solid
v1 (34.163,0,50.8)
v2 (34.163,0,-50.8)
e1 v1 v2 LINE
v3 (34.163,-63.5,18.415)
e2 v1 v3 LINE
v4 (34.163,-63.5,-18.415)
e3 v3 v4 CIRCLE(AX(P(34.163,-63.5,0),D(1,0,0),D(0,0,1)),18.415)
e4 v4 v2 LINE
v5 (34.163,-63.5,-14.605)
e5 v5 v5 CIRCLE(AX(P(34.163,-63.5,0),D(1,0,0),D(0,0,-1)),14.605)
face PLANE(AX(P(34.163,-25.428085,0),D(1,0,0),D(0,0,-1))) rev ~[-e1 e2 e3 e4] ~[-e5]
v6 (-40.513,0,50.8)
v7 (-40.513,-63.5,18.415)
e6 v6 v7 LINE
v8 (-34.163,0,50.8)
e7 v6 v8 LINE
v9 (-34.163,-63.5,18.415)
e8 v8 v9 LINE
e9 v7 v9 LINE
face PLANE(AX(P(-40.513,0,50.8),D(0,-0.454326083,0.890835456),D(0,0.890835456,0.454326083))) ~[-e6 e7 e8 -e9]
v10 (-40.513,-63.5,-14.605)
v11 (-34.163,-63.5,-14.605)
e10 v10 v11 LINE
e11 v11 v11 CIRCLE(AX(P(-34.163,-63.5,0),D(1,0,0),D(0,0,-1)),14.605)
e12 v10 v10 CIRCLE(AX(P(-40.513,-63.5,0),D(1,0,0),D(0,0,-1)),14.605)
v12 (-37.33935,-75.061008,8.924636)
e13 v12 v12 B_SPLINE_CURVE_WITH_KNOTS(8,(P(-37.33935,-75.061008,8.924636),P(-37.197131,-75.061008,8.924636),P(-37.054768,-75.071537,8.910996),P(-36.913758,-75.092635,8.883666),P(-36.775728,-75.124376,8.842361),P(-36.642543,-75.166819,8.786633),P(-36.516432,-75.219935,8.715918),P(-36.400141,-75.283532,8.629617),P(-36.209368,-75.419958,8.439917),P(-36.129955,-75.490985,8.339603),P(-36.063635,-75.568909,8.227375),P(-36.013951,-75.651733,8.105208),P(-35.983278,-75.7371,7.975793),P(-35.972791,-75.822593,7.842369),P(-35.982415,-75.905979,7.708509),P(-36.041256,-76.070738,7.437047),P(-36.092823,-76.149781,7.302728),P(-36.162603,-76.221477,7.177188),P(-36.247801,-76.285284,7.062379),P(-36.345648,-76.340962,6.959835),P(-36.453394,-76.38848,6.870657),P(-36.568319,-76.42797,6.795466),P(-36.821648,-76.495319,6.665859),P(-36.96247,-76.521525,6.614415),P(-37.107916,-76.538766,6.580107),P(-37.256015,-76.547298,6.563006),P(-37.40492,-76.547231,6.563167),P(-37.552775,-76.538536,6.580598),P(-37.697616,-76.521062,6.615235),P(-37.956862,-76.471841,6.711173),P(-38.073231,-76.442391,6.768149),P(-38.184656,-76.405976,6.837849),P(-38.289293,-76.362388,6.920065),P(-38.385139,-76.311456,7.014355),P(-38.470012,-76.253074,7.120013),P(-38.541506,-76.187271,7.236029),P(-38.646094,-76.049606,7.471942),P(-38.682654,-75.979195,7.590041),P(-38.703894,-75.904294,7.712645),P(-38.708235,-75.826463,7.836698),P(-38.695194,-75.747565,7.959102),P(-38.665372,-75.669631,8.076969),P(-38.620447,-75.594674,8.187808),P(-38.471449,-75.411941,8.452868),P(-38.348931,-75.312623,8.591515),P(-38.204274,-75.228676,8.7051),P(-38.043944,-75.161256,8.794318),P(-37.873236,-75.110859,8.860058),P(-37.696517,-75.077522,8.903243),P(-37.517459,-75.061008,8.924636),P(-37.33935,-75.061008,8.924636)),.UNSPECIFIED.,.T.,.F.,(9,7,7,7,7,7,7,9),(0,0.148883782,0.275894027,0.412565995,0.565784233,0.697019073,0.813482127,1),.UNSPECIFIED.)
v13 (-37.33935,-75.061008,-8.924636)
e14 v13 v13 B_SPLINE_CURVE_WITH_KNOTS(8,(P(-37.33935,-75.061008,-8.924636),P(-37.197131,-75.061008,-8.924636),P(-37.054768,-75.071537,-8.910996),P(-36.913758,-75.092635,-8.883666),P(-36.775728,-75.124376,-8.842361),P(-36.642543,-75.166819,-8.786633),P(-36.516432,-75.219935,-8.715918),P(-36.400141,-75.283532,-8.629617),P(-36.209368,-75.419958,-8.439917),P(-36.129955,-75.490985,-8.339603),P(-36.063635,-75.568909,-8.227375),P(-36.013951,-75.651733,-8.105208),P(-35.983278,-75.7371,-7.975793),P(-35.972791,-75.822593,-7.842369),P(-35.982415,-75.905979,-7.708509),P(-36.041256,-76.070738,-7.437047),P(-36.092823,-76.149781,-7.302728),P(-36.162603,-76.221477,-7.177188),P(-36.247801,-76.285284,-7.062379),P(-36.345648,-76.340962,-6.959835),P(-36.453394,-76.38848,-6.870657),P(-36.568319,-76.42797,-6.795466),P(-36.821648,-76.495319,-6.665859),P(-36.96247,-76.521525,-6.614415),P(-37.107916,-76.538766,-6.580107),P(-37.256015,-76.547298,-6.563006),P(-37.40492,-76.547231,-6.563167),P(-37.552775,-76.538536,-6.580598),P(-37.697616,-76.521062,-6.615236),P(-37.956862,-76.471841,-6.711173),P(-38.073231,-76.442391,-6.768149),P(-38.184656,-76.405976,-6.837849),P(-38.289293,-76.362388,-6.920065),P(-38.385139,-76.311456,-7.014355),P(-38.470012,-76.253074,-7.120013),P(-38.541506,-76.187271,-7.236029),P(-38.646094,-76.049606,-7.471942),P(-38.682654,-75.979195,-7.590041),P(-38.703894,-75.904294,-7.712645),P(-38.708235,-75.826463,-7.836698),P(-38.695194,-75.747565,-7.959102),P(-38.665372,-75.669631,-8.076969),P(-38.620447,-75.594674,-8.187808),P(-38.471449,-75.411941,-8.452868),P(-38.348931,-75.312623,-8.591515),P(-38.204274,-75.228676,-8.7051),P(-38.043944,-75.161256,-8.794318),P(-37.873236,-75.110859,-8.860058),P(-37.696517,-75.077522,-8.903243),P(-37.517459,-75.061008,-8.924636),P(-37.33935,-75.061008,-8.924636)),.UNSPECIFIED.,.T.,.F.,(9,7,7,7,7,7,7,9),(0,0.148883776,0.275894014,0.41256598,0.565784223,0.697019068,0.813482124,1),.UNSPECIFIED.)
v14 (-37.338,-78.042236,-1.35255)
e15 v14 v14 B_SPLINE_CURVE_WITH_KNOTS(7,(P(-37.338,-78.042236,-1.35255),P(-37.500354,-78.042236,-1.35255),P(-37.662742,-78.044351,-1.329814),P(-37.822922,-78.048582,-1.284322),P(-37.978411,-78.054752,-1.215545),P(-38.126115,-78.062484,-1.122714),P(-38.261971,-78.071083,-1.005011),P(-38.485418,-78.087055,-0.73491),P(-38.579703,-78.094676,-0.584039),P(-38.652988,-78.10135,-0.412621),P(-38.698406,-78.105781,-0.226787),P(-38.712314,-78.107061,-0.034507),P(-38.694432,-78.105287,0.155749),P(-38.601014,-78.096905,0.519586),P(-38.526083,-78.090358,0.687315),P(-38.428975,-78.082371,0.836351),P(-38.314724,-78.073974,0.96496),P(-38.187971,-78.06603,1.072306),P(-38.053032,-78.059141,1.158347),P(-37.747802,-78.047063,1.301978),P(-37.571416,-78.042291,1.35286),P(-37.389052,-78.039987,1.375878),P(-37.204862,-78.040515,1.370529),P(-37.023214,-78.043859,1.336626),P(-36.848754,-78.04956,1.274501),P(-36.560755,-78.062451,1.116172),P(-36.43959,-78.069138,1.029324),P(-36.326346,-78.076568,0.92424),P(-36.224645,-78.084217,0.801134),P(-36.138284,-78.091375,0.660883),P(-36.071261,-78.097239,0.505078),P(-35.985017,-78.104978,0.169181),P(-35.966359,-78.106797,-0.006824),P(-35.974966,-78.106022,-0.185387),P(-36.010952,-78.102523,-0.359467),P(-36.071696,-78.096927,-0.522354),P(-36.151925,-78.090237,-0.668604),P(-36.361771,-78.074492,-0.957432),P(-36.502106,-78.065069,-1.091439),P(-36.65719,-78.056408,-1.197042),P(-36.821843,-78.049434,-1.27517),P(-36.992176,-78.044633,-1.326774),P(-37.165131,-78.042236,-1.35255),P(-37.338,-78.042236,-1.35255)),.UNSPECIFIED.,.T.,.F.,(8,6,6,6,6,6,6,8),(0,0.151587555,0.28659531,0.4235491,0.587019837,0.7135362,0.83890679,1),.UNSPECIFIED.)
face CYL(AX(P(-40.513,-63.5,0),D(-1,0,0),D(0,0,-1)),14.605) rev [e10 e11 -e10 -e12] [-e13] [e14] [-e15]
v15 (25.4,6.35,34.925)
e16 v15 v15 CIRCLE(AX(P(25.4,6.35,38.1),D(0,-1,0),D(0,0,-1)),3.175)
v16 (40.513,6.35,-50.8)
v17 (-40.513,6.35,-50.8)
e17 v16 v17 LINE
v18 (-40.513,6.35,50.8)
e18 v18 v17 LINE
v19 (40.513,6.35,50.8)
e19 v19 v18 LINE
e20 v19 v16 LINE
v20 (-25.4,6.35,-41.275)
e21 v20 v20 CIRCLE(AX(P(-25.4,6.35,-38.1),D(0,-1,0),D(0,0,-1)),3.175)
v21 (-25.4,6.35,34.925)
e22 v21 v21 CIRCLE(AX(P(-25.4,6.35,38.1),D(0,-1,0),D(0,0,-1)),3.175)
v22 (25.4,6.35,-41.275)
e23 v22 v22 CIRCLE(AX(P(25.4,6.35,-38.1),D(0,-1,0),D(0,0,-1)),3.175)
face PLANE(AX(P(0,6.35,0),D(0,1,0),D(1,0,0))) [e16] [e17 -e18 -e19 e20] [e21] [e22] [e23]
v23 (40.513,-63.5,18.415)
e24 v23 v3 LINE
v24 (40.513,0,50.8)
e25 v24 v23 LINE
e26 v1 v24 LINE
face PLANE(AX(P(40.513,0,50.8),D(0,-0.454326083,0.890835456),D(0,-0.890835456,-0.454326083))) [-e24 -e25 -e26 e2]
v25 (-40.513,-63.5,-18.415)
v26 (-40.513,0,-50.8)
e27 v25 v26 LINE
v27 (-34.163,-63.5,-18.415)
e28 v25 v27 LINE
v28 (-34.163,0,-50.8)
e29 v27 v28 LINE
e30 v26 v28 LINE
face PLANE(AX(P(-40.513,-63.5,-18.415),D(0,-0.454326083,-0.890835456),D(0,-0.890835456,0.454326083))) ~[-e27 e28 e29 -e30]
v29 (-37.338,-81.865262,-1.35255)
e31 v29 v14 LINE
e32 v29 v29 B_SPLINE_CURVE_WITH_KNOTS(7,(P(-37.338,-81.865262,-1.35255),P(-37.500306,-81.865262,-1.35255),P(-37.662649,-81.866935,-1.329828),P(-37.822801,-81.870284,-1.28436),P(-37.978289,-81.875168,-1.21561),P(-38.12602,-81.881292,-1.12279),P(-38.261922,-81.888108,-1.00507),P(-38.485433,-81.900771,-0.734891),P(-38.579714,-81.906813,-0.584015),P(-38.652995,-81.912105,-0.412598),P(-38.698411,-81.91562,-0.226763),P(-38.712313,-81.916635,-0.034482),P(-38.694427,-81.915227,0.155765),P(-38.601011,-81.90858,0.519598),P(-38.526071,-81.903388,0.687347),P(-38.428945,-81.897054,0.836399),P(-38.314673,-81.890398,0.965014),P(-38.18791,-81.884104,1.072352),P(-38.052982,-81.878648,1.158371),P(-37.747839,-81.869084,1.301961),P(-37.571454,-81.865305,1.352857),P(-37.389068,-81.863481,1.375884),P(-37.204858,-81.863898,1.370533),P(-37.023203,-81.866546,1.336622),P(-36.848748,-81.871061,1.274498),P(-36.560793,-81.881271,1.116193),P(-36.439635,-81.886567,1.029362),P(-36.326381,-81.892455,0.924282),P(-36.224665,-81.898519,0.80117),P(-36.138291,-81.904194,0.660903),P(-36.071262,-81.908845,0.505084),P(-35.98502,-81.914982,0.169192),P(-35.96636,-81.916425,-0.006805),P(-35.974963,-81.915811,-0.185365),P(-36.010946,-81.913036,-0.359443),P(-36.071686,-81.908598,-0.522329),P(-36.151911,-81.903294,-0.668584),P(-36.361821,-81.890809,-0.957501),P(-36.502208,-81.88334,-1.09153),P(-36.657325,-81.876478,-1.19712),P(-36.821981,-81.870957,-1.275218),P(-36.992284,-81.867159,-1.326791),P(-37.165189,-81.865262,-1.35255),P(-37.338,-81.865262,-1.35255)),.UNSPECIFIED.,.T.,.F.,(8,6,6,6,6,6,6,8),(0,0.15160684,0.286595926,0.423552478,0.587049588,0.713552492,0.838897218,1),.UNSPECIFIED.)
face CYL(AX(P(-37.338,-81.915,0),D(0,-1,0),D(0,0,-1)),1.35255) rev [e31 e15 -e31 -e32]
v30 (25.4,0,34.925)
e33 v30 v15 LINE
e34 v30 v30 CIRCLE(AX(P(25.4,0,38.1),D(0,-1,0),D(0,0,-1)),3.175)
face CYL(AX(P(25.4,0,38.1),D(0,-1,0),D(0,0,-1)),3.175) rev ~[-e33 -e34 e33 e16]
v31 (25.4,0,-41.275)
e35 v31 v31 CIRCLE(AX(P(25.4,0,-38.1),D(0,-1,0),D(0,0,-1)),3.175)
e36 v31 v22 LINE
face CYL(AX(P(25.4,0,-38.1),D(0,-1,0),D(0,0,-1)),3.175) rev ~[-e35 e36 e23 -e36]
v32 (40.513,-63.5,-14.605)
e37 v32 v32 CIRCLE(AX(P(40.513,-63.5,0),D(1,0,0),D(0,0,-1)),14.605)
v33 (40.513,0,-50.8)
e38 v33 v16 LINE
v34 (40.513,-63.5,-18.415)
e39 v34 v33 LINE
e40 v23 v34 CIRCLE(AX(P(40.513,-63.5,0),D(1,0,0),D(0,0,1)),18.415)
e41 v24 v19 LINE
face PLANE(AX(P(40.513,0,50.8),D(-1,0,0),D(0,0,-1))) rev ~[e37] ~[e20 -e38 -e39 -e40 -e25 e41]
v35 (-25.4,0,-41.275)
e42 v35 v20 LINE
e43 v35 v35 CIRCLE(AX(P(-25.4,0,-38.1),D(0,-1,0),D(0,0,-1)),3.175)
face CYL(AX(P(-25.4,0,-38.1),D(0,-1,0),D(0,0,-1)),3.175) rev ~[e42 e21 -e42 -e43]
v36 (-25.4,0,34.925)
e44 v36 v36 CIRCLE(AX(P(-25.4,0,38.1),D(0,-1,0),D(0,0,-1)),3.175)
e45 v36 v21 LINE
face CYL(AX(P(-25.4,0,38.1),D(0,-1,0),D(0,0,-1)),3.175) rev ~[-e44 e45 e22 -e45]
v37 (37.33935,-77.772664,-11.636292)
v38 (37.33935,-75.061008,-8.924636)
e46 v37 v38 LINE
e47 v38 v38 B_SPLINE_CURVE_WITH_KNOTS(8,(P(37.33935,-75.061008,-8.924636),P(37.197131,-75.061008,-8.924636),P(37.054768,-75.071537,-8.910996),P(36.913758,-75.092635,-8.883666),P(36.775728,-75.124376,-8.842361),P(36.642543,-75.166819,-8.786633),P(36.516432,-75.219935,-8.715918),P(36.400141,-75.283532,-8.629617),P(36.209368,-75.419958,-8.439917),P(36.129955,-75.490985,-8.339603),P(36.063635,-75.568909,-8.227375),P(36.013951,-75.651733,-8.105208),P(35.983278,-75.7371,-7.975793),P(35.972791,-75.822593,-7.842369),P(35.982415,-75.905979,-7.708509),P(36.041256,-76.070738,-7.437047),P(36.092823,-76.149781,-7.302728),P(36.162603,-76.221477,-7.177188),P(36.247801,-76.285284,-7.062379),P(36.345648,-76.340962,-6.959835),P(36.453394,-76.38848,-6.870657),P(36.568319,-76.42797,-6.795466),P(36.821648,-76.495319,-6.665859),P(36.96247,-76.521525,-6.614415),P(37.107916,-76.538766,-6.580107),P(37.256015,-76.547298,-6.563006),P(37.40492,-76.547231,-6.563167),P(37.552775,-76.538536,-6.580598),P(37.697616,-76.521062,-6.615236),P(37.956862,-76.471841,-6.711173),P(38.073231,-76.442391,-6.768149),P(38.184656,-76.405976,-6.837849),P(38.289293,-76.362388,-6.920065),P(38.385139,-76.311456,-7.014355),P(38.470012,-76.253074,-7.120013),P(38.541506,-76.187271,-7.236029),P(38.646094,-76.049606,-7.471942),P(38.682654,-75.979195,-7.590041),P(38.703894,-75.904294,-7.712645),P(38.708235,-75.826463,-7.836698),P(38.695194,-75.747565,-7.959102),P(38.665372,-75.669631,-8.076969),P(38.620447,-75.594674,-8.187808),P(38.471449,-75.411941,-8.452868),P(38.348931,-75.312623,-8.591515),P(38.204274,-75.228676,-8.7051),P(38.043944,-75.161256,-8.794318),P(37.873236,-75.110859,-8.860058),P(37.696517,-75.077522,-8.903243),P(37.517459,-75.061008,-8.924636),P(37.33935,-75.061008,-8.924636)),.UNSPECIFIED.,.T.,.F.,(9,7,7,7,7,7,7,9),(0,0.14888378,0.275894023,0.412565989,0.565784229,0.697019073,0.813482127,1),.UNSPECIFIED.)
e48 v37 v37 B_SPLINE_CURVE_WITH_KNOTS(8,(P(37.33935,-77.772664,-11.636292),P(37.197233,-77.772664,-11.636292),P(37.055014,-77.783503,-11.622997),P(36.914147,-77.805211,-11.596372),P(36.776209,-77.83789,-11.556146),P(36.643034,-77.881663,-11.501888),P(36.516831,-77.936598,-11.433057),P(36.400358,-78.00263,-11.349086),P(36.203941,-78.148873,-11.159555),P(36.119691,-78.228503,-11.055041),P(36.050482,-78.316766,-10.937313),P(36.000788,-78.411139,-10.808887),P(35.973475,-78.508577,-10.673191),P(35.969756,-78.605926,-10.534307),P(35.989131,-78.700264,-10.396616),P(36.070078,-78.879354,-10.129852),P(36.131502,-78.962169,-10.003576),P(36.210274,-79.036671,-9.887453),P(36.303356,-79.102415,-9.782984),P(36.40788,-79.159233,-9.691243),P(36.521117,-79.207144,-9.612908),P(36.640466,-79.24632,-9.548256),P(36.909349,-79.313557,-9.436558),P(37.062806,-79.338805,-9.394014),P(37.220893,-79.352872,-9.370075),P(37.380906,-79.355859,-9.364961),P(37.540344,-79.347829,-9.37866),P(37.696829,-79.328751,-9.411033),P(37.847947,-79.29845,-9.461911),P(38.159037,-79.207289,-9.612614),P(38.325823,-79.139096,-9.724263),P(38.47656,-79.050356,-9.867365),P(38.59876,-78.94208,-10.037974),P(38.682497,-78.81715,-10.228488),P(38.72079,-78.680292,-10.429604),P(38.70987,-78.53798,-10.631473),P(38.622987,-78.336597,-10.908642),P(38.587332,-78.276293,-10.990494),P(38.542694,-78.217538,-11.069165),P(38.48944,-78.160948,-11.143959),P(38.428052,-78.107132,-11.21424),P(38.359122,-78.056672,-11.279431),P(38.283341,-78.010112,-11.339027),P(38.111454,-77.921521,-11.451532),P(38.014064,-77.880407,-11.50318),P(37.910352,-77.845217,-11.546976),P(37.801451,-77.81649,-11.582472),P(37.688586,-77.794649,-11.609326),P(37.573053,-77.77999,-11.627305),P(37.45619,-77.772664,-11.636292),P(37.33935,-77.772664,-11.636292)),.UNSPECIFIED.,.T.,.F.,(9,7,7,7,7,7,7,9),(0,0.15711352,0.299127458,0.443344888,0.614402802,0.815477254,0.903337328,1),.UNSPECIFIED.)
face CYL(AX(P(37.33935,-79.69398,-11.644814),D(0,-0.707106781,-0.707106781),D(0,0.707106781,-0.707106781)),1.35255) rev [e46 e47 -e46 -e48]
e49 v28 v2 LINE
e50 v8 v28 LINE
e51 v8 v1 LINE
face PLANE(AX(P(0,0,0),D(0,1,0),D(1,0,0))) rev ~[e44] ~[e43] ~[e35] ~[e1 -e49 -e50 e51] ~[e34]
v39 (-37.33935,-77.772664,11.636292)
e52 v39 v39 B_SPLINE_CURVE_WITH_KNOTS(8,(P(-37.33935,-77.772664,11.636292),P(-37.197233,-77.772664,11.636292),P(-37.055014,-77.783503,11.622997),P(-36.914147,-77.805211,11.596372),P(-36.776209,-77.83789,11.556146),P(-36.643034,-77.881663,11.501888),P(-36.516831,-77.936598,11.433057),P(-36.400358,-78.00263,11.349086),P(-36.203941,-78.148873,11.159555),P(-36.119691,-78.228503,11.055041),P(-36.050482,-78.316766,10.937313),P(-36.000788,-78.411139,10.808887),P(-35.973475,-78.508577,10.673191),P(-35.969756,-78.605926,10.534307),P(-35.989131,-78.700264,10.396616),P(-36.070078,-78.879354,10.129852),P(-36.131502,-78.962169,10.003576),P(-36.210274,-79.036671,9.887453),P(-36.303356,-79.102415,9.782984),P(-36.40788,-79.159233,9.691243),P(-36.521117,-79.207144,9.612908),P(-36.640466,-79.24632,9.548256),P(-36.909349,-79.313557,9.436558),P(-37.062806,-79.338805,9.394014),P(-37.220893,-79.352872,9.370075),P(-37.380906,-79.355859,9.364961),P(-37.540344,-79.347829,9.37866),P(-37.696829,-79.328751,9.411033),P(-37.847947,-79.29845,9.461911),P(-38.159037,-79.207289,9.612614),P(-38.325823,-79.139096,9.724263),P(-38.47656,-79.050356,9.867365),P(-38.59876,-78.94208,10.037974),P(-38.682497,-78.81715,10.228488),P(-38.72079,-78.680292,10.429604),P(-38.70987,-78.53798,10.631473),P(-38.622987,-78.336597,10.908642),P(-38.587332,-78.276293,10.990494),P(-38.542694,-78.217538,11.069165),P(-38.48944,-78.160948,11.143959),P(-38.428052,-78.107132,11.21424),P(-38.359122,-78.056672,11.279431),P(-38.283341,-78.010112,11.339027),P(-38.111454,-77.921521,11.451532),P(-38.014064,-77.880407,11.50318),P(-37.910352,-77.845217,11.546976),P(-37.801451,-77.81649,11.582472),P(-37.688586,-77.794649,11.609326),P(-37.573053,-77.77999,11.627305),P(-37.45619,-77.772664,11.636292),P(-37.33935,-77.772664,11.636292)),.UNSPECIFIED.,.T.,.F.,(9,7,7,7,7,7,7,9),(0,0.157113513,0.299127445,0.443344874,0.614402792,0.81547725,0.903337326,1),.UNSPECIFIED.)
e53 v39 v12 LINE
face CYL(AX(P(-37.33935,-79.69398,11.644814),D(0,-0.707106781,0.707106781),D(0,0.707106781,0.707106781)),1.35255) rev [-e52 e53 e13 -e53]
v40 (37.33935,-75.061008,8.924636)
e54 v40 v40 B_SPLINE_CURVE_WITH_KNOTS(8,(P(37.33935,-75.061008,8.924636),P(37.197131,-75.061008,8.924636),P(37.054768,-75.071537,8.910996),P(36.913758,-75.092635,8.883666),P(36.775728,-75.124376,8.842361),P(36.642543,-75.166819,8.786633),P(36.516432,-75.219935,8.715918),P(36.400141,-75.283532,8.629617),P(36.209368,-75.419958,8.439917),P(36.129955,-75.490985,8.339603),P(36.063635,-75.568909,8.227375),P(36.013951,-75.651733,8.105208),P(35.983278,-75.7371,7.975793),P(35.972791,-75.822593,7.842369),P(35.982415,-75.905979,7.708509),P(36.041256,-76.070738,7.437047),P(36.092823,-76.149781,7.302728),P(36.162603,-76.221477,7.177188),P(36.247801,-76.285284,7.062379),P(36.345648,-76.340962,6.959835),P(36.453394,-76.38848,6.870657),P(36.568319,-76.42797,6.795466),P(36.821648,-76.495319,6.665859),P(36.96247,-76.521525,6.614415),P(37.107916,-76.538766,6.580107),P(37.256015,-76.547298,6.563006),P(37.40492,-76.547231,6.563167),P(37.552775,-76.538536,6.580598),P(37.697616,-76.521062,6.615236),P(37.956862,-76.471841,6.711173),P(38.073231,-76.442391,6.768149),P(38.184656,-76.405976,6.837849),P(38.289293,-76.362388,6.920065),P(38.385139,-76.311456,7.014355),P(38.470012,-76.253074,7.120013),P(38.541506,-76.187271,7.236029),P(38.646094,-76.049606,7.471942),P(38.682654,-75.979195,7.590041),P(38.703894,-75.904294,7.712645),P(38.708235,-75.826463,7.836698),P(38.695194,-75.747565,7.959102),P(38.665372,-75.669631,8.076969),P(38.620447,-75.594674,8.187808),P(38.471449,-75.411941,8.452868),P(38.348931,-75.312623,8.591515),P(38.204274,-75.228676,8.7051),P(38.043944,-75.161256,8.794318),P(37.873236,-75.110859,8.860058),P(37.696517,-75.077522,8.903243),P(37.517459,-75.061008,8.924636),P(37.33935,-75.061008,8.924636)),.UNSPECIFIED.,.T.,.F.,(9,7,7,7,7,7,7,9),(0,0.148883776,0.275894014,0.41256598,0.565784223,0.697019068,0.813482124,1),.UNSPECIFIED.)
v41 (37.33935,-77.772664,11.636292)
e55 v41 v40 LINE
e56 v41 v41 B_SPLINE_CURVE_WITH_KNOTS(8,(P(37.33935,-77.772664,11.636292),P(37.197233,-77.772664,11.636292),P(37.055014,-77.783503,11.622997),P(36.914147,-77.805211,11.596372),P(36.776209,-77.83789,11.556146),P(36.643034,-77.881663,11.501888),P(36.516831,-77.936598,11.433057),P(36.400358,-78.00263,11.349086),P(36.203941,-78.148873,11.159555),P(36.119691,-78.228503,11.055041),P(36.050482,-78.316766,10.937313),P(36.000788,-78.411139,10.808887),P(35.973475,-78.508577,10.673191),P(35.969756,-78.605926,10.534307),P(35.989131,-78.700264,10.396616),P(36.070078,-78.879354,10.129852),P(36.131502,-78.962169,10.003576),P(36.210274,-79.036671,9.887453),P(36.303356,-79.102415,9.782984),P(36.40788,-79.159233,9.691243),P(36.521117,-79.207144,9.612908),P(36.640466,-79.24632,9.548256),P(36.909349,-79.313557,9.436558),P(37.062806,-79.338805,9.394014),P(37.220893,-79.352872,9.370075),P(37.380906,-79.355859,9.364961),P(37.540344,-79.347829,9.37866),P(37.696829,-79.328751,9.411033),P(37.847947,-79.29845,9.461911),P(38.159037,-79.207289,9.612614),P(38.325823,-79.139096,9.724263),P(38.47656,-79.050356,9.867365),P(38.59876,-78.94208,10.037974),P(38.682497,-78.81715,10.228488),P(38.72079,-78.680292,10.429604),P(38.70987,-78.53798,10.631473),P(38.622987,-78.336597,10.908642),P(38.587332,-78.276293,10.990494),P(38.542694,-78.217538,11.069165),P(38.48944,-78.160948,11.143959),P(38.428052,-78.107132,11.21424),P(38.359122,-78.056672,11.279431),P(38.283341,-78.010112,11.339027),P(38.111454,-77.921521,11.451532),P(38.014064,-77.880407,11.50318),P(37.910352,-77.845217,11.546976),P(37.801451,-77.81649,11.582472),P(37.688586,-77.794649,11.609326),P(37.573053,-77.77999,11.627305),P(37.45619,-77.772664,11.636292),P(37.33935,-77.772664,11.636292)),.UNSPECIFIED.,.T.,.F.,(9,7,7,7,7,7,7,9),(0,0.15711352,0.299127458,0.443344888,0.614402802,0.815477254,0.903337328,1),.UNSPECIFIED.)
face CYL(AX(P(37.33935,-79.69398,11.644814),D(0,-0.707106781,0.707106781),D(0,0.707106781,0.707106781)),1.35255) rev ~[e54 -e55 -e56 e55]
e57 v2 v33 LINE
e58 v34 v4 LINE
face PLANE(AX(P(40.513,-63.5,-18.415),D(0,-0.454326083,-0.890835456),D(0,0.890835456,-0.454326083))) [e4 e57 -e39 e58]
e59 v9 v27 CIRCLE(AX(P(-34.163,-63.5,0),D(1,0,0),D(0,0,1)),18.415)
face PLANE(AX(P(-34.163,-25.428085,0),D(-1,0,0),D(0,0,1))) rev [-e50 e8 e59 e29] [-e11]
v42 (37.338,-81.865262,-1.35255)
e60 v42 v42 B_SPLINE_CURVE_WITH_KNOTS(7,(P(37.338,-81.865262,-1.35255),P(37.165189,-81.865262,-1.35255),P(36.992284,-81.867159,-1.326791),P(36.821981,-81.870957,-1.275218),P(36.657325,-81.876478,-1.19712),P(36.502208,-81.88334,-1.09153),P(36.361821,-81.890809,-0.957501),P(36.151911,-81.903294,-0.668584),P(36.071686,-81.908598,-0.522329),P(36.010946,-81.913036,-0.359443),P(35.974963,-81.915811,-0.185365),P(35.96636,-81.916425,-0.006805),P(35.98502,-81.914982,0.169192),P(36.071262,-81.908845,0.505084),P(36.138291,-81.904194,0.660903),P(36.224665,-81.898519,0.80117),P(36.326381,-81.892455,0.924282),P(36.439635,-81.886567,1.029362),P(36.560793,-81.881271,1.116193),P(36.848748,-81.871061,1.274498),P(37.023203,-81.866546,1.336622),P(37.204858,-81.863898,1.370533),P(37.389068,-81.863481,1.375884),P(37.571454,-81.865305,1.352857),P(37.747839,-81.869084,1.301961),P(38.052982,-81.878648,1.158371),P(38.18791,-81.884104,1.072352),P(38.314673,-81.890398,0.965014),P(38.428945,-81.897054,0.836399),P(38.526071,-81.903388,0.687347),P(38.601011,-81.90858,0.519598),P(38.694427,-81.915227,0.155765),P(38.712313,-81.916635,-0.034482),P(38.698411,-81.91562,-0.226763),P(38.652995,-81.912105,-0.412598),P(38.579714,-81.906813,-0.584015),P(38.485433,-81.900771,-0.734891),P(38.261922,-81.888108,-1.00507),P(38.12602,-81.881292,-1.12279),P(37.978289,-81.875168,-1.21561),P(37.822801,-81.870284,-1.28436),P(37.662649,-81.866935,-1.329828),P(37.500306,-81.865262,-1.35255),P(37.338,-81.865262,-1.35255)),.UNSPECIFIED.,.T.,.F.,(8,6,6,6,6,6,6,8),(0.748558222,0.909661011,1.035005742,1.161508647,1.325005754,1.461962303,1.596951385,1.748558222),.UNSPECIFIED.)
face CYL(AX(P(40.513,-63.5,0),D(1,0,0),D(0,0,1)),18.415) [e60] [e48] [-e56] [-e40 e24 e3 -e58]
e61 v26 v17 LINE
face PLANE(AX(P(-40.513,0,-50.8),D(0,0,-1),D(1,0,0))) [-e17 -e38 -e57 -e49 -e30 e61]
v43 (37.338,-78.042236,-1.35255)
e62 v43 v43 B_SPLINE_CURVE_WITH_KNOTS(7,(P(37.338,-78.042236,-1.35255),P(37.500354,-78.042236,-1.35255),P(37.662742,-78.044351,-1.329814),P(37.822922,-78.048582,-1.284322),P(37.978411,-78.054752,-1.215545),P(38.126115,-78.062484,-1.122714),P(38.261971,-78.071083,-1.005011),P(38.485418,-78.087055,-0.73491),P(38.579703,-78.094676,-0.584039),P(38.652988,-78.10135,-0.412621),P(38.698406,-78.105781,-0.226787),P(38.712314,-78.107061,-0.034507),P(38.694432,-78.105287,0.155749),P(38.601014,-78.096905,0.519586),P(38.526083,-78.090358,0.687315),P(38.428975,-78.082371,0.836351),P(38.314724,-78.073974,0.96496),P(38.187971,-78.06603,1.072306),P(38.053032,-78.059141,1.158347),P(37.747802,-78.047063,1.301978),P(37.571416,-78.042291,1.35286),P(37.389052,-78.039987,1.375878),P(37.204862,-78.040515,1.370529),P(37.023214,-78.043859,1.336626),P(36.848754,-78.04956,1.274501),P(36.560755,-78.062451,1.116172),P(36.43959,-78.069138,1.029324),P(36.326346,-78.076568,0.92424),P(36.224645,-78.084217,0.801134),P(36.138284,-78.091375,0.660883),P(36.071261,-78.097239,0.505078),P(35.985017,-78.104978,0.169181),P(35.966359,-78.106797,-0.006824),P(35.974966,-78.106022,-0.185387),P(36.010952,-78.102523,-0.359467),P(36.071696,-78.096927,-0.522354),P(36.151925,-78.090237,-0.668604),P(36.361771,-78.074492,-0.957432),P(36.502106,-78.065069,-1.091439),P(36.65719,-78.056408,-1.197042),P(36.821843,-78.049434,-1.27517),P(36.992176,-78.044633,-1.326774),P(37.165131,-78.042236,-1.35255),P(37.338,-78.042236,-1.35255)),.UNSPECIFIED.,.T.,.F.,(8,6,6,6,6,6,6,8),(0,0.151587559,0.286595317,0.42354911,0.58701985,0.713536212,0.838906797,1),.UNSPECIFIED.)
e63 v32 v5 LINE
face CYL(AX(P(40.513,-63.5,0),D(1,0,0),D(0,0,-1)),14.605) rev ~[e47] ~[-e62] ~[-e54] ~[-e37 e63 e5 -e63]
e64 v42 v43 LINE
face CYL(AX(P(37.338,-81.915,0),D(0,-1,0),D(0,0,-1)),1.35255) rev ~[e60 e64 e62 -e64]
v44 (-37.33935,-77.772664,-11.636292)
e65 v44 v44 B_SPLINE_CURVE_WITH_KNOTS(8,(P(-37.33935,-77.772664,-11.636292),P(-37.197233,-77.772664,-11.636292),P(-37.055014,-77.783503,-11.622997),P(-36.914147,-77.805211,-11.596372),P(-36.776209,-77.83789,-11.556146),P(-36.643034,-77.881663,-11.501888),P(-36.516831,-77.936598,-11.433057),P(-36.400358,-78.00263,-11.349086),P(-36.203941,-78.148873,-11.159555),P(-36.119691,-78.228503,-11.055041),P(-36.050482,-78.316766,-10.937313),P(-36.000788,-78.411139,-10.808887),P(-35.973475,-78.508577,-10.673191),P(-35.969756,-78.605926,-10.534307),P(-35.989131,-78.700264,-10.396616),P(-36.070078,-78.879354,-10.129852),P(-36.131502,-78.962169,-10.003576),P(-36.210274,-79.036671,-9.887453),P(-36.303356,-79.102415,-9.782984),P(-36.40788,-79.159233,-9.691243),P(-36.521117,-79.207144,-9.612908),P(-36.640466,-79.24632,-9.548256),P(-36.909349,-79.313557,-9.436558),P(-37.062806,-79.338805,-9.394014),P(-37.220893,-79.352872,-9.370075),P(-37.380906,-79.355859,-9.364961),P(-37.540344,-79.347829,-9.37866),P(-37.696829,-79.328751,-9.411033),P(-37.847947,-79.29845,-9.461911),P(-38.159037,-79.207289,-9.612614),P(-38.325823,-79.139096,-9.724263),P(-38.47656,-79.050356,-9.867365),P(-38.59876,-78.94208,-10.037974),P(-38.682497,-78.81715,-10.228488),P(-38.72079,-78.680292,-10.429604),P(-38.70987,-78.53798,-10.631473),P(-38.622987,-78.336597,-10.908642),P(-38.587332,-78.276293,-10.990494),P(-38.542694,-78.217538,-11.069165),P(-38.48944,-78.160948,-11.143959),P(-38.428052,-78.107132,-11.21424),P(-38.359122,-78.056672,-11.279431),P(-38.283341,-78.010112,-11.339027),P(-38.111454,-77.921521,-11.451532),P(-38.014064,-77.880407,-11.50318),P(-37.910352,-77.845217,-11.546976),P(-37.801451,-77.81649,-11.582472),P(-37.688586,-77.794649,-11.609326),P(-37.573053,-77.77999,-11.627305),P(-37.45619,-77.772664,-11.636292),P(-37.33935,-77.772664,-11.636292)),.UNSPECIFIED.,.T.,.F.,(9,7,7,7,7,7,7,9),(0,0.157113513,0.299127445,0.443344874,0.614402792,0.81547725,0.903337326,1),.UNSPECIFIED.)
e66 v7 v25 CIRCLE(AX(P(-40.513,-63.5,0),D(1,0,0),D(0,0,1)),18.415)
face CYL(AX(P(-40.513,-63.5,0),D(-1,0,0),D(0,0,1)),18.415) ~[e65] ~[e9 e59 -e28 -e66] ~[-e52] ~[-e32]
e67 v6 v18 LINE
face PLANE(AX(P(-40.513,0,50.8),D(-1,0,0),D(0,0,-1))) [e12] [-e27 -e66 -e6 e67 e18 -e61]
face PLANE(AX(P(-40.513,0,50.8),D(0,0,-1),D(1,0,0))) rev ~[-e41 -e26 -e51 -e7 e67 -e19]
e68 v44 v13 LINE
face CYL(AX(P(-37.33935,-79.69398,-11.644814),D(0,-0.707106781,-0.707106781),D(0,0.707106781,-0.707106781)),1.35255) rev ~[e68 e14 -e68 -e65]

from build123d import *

# Parameters (mm, degrees)
SKETCH2_W               = 81.026
SKETCH2_H               = 101.6
BOSS_EXTRUDE1_DEPTH     = 6.35
SKETCH3_R               = 14.605
BOSS_EXTRUDE2_DEPTH     = 6.35
SKETCH5_R               = 1.35255
CUT_EXTRUDE1_DEPTH      = 16.256
SKETCH6_R               = 1.35255
CUT_EXTRUDE2_DEPTH      = 9.652
MIRROR2_COPY_1_SKETCH_R = 1.35255
MIRROR2_COPY_1_DEPTH    = 9.652
SKETCH7_R               = 3.175
CUT_EXTRUDE3_DEPTH      = 6.35


with BuildPart() as part:
    # Sketch2 → Boss-Extrude1 (new body)
    with BuildSketch(Plane(origin=(0, 0, 0), x_dir=(1, 0, 0), z_dir=(0, 1, 0))):
        Rectangle(SKETCH2_W, SKETCH2_H)
    extrude(amount=BOSS_EXTRUDE1_DEPTH)

    # Sketch3 → Boss-Extrude2 (add)
    with BuildSketch(Plane(origin=(40.513, 0, 0), x_dir=(0, 0, -1), z_dir=(1, 0, 0))):
        with BuildLine():
            Line((-50.8, 6.35), (-50.8, 0))
            Line((-50.8, 0), (-18.415, -63.5))
            ThreePointArc((-18.415, -63.5), (0, -81.915), (18.415, -63.5))
            Line((18.415, -63.5), (50.8, 0))
            Line((50.8, 0), (50.8, 6.35))
            Line((50.8, 6.35), (-50.8, 6.35))
        make_face()
        with Locations((0, -63.5)):
            Circle(SKETCH3_R, mode=Mode.SUBTRACT)
    boss_extrude2 = extrude(amount=-BOSS_EXTRUDE2_DEPTH)

    # Sketch5 → Cut-Extrude1 (cut)
    with BuildSketch(Plane(origin=(0, -81.915, 0), x_dir=(-1, 0, 0), z_dir=(0, -1, 0))):
        with Locations(Location((-37.338, 0, 0), (0, 0, 90))):
            Circle(SKETCH5_R)
    cut_extrude1 = extrude(amount=-CUT_EXTRUDE1_DEPTH, mode=Mode.SUBTRACT)

    # Sketch6 → Cut-Extrude2 (cut)
    with BuildSketch(Plane(origin=(0, -45.669396988, -45.669396988), x_dir=(1, 0, 0), z_dir=(0, 0.7071067811865464, 0.7071067811865488))):
        with Locations(Location((37.339349705, -48.118027143, 0), (0, 0, 90))):
            Circle(SKETCH6_R)
    cut_extrude2 = extrude(amount=CUT_EXTRUDE2_DEPTH, mode=Mode.SUBTRACT)

    # Mirror1: Cut-Extrude2 across plane
    add(cut_extrude2.mirror(Plane.XY), mode=Mode.SUBTRACT)

    # Mirror2: Boss-Extrude2, Cut-Extrude1, Cut-Extrude2 across plane
    add(boss_extrude2.mirror(Plane(origin=(0, 0, 0), x_dir=(0, 0, 1), z_dir=(1, 0, 0))))
    add(cut_extrude1.mirror(Plane(origin=(0, 0, 0), x_dir=(0, 0, 1), z_dir=(1, 0, 0))), mode=Mode.SUBTRACT)
    add(cut_extrude2.mirror(Plane(origin=(0, 0, 0), x_dir=(0, 0, 1), z_dir=(1, 0, 0))), mode=Mode.SUBTRACT)

    # Mirror2 copy 1 sketch → Mirror2 copy 1 (cut)
    with BuildSketch(Plane(origin=(0, -45.669396988, 45.669396988), x_dir=(-1, 0, 0), z_dir=(0, 0.7071067811865464, -0.7071067811865488))):
        with Locations(Location((37.339349705, -48.118027143, 0), (0, 0, 90))):
            Circle(MIRROR2_COPY_1_SKETCH_R)
    extrude(amount=MIRROR2_COPY_1_DEPTH, mode=Mode.SUBTRACT)

    # Sketch7 → Cut-Extrude3 (cut)
    with BuildSketch(Plane.XZ):
        with Locations(Location((-25.4, 38.1, 0), (0, 0, 270))):
            Circle(SKETCH7_R)
        with Locations(Location((25.4, 38.1, 0), (0, 0, 270))):
            Circle(SKETCH7_R)
        with Locations(Location((25.4, -38.1, 0), (0, 0, 270))):
            Circle(SKETCH7_R)
        with Locations(Location((-25.4, -38.1, 0), (0, 0, 270))):
            Circle(SKETCH7_R)
    extrude(amount=-CUT_EXTRUDE3_DEPTH, mode=Mode.SUBTRACT)


solid = part.part
